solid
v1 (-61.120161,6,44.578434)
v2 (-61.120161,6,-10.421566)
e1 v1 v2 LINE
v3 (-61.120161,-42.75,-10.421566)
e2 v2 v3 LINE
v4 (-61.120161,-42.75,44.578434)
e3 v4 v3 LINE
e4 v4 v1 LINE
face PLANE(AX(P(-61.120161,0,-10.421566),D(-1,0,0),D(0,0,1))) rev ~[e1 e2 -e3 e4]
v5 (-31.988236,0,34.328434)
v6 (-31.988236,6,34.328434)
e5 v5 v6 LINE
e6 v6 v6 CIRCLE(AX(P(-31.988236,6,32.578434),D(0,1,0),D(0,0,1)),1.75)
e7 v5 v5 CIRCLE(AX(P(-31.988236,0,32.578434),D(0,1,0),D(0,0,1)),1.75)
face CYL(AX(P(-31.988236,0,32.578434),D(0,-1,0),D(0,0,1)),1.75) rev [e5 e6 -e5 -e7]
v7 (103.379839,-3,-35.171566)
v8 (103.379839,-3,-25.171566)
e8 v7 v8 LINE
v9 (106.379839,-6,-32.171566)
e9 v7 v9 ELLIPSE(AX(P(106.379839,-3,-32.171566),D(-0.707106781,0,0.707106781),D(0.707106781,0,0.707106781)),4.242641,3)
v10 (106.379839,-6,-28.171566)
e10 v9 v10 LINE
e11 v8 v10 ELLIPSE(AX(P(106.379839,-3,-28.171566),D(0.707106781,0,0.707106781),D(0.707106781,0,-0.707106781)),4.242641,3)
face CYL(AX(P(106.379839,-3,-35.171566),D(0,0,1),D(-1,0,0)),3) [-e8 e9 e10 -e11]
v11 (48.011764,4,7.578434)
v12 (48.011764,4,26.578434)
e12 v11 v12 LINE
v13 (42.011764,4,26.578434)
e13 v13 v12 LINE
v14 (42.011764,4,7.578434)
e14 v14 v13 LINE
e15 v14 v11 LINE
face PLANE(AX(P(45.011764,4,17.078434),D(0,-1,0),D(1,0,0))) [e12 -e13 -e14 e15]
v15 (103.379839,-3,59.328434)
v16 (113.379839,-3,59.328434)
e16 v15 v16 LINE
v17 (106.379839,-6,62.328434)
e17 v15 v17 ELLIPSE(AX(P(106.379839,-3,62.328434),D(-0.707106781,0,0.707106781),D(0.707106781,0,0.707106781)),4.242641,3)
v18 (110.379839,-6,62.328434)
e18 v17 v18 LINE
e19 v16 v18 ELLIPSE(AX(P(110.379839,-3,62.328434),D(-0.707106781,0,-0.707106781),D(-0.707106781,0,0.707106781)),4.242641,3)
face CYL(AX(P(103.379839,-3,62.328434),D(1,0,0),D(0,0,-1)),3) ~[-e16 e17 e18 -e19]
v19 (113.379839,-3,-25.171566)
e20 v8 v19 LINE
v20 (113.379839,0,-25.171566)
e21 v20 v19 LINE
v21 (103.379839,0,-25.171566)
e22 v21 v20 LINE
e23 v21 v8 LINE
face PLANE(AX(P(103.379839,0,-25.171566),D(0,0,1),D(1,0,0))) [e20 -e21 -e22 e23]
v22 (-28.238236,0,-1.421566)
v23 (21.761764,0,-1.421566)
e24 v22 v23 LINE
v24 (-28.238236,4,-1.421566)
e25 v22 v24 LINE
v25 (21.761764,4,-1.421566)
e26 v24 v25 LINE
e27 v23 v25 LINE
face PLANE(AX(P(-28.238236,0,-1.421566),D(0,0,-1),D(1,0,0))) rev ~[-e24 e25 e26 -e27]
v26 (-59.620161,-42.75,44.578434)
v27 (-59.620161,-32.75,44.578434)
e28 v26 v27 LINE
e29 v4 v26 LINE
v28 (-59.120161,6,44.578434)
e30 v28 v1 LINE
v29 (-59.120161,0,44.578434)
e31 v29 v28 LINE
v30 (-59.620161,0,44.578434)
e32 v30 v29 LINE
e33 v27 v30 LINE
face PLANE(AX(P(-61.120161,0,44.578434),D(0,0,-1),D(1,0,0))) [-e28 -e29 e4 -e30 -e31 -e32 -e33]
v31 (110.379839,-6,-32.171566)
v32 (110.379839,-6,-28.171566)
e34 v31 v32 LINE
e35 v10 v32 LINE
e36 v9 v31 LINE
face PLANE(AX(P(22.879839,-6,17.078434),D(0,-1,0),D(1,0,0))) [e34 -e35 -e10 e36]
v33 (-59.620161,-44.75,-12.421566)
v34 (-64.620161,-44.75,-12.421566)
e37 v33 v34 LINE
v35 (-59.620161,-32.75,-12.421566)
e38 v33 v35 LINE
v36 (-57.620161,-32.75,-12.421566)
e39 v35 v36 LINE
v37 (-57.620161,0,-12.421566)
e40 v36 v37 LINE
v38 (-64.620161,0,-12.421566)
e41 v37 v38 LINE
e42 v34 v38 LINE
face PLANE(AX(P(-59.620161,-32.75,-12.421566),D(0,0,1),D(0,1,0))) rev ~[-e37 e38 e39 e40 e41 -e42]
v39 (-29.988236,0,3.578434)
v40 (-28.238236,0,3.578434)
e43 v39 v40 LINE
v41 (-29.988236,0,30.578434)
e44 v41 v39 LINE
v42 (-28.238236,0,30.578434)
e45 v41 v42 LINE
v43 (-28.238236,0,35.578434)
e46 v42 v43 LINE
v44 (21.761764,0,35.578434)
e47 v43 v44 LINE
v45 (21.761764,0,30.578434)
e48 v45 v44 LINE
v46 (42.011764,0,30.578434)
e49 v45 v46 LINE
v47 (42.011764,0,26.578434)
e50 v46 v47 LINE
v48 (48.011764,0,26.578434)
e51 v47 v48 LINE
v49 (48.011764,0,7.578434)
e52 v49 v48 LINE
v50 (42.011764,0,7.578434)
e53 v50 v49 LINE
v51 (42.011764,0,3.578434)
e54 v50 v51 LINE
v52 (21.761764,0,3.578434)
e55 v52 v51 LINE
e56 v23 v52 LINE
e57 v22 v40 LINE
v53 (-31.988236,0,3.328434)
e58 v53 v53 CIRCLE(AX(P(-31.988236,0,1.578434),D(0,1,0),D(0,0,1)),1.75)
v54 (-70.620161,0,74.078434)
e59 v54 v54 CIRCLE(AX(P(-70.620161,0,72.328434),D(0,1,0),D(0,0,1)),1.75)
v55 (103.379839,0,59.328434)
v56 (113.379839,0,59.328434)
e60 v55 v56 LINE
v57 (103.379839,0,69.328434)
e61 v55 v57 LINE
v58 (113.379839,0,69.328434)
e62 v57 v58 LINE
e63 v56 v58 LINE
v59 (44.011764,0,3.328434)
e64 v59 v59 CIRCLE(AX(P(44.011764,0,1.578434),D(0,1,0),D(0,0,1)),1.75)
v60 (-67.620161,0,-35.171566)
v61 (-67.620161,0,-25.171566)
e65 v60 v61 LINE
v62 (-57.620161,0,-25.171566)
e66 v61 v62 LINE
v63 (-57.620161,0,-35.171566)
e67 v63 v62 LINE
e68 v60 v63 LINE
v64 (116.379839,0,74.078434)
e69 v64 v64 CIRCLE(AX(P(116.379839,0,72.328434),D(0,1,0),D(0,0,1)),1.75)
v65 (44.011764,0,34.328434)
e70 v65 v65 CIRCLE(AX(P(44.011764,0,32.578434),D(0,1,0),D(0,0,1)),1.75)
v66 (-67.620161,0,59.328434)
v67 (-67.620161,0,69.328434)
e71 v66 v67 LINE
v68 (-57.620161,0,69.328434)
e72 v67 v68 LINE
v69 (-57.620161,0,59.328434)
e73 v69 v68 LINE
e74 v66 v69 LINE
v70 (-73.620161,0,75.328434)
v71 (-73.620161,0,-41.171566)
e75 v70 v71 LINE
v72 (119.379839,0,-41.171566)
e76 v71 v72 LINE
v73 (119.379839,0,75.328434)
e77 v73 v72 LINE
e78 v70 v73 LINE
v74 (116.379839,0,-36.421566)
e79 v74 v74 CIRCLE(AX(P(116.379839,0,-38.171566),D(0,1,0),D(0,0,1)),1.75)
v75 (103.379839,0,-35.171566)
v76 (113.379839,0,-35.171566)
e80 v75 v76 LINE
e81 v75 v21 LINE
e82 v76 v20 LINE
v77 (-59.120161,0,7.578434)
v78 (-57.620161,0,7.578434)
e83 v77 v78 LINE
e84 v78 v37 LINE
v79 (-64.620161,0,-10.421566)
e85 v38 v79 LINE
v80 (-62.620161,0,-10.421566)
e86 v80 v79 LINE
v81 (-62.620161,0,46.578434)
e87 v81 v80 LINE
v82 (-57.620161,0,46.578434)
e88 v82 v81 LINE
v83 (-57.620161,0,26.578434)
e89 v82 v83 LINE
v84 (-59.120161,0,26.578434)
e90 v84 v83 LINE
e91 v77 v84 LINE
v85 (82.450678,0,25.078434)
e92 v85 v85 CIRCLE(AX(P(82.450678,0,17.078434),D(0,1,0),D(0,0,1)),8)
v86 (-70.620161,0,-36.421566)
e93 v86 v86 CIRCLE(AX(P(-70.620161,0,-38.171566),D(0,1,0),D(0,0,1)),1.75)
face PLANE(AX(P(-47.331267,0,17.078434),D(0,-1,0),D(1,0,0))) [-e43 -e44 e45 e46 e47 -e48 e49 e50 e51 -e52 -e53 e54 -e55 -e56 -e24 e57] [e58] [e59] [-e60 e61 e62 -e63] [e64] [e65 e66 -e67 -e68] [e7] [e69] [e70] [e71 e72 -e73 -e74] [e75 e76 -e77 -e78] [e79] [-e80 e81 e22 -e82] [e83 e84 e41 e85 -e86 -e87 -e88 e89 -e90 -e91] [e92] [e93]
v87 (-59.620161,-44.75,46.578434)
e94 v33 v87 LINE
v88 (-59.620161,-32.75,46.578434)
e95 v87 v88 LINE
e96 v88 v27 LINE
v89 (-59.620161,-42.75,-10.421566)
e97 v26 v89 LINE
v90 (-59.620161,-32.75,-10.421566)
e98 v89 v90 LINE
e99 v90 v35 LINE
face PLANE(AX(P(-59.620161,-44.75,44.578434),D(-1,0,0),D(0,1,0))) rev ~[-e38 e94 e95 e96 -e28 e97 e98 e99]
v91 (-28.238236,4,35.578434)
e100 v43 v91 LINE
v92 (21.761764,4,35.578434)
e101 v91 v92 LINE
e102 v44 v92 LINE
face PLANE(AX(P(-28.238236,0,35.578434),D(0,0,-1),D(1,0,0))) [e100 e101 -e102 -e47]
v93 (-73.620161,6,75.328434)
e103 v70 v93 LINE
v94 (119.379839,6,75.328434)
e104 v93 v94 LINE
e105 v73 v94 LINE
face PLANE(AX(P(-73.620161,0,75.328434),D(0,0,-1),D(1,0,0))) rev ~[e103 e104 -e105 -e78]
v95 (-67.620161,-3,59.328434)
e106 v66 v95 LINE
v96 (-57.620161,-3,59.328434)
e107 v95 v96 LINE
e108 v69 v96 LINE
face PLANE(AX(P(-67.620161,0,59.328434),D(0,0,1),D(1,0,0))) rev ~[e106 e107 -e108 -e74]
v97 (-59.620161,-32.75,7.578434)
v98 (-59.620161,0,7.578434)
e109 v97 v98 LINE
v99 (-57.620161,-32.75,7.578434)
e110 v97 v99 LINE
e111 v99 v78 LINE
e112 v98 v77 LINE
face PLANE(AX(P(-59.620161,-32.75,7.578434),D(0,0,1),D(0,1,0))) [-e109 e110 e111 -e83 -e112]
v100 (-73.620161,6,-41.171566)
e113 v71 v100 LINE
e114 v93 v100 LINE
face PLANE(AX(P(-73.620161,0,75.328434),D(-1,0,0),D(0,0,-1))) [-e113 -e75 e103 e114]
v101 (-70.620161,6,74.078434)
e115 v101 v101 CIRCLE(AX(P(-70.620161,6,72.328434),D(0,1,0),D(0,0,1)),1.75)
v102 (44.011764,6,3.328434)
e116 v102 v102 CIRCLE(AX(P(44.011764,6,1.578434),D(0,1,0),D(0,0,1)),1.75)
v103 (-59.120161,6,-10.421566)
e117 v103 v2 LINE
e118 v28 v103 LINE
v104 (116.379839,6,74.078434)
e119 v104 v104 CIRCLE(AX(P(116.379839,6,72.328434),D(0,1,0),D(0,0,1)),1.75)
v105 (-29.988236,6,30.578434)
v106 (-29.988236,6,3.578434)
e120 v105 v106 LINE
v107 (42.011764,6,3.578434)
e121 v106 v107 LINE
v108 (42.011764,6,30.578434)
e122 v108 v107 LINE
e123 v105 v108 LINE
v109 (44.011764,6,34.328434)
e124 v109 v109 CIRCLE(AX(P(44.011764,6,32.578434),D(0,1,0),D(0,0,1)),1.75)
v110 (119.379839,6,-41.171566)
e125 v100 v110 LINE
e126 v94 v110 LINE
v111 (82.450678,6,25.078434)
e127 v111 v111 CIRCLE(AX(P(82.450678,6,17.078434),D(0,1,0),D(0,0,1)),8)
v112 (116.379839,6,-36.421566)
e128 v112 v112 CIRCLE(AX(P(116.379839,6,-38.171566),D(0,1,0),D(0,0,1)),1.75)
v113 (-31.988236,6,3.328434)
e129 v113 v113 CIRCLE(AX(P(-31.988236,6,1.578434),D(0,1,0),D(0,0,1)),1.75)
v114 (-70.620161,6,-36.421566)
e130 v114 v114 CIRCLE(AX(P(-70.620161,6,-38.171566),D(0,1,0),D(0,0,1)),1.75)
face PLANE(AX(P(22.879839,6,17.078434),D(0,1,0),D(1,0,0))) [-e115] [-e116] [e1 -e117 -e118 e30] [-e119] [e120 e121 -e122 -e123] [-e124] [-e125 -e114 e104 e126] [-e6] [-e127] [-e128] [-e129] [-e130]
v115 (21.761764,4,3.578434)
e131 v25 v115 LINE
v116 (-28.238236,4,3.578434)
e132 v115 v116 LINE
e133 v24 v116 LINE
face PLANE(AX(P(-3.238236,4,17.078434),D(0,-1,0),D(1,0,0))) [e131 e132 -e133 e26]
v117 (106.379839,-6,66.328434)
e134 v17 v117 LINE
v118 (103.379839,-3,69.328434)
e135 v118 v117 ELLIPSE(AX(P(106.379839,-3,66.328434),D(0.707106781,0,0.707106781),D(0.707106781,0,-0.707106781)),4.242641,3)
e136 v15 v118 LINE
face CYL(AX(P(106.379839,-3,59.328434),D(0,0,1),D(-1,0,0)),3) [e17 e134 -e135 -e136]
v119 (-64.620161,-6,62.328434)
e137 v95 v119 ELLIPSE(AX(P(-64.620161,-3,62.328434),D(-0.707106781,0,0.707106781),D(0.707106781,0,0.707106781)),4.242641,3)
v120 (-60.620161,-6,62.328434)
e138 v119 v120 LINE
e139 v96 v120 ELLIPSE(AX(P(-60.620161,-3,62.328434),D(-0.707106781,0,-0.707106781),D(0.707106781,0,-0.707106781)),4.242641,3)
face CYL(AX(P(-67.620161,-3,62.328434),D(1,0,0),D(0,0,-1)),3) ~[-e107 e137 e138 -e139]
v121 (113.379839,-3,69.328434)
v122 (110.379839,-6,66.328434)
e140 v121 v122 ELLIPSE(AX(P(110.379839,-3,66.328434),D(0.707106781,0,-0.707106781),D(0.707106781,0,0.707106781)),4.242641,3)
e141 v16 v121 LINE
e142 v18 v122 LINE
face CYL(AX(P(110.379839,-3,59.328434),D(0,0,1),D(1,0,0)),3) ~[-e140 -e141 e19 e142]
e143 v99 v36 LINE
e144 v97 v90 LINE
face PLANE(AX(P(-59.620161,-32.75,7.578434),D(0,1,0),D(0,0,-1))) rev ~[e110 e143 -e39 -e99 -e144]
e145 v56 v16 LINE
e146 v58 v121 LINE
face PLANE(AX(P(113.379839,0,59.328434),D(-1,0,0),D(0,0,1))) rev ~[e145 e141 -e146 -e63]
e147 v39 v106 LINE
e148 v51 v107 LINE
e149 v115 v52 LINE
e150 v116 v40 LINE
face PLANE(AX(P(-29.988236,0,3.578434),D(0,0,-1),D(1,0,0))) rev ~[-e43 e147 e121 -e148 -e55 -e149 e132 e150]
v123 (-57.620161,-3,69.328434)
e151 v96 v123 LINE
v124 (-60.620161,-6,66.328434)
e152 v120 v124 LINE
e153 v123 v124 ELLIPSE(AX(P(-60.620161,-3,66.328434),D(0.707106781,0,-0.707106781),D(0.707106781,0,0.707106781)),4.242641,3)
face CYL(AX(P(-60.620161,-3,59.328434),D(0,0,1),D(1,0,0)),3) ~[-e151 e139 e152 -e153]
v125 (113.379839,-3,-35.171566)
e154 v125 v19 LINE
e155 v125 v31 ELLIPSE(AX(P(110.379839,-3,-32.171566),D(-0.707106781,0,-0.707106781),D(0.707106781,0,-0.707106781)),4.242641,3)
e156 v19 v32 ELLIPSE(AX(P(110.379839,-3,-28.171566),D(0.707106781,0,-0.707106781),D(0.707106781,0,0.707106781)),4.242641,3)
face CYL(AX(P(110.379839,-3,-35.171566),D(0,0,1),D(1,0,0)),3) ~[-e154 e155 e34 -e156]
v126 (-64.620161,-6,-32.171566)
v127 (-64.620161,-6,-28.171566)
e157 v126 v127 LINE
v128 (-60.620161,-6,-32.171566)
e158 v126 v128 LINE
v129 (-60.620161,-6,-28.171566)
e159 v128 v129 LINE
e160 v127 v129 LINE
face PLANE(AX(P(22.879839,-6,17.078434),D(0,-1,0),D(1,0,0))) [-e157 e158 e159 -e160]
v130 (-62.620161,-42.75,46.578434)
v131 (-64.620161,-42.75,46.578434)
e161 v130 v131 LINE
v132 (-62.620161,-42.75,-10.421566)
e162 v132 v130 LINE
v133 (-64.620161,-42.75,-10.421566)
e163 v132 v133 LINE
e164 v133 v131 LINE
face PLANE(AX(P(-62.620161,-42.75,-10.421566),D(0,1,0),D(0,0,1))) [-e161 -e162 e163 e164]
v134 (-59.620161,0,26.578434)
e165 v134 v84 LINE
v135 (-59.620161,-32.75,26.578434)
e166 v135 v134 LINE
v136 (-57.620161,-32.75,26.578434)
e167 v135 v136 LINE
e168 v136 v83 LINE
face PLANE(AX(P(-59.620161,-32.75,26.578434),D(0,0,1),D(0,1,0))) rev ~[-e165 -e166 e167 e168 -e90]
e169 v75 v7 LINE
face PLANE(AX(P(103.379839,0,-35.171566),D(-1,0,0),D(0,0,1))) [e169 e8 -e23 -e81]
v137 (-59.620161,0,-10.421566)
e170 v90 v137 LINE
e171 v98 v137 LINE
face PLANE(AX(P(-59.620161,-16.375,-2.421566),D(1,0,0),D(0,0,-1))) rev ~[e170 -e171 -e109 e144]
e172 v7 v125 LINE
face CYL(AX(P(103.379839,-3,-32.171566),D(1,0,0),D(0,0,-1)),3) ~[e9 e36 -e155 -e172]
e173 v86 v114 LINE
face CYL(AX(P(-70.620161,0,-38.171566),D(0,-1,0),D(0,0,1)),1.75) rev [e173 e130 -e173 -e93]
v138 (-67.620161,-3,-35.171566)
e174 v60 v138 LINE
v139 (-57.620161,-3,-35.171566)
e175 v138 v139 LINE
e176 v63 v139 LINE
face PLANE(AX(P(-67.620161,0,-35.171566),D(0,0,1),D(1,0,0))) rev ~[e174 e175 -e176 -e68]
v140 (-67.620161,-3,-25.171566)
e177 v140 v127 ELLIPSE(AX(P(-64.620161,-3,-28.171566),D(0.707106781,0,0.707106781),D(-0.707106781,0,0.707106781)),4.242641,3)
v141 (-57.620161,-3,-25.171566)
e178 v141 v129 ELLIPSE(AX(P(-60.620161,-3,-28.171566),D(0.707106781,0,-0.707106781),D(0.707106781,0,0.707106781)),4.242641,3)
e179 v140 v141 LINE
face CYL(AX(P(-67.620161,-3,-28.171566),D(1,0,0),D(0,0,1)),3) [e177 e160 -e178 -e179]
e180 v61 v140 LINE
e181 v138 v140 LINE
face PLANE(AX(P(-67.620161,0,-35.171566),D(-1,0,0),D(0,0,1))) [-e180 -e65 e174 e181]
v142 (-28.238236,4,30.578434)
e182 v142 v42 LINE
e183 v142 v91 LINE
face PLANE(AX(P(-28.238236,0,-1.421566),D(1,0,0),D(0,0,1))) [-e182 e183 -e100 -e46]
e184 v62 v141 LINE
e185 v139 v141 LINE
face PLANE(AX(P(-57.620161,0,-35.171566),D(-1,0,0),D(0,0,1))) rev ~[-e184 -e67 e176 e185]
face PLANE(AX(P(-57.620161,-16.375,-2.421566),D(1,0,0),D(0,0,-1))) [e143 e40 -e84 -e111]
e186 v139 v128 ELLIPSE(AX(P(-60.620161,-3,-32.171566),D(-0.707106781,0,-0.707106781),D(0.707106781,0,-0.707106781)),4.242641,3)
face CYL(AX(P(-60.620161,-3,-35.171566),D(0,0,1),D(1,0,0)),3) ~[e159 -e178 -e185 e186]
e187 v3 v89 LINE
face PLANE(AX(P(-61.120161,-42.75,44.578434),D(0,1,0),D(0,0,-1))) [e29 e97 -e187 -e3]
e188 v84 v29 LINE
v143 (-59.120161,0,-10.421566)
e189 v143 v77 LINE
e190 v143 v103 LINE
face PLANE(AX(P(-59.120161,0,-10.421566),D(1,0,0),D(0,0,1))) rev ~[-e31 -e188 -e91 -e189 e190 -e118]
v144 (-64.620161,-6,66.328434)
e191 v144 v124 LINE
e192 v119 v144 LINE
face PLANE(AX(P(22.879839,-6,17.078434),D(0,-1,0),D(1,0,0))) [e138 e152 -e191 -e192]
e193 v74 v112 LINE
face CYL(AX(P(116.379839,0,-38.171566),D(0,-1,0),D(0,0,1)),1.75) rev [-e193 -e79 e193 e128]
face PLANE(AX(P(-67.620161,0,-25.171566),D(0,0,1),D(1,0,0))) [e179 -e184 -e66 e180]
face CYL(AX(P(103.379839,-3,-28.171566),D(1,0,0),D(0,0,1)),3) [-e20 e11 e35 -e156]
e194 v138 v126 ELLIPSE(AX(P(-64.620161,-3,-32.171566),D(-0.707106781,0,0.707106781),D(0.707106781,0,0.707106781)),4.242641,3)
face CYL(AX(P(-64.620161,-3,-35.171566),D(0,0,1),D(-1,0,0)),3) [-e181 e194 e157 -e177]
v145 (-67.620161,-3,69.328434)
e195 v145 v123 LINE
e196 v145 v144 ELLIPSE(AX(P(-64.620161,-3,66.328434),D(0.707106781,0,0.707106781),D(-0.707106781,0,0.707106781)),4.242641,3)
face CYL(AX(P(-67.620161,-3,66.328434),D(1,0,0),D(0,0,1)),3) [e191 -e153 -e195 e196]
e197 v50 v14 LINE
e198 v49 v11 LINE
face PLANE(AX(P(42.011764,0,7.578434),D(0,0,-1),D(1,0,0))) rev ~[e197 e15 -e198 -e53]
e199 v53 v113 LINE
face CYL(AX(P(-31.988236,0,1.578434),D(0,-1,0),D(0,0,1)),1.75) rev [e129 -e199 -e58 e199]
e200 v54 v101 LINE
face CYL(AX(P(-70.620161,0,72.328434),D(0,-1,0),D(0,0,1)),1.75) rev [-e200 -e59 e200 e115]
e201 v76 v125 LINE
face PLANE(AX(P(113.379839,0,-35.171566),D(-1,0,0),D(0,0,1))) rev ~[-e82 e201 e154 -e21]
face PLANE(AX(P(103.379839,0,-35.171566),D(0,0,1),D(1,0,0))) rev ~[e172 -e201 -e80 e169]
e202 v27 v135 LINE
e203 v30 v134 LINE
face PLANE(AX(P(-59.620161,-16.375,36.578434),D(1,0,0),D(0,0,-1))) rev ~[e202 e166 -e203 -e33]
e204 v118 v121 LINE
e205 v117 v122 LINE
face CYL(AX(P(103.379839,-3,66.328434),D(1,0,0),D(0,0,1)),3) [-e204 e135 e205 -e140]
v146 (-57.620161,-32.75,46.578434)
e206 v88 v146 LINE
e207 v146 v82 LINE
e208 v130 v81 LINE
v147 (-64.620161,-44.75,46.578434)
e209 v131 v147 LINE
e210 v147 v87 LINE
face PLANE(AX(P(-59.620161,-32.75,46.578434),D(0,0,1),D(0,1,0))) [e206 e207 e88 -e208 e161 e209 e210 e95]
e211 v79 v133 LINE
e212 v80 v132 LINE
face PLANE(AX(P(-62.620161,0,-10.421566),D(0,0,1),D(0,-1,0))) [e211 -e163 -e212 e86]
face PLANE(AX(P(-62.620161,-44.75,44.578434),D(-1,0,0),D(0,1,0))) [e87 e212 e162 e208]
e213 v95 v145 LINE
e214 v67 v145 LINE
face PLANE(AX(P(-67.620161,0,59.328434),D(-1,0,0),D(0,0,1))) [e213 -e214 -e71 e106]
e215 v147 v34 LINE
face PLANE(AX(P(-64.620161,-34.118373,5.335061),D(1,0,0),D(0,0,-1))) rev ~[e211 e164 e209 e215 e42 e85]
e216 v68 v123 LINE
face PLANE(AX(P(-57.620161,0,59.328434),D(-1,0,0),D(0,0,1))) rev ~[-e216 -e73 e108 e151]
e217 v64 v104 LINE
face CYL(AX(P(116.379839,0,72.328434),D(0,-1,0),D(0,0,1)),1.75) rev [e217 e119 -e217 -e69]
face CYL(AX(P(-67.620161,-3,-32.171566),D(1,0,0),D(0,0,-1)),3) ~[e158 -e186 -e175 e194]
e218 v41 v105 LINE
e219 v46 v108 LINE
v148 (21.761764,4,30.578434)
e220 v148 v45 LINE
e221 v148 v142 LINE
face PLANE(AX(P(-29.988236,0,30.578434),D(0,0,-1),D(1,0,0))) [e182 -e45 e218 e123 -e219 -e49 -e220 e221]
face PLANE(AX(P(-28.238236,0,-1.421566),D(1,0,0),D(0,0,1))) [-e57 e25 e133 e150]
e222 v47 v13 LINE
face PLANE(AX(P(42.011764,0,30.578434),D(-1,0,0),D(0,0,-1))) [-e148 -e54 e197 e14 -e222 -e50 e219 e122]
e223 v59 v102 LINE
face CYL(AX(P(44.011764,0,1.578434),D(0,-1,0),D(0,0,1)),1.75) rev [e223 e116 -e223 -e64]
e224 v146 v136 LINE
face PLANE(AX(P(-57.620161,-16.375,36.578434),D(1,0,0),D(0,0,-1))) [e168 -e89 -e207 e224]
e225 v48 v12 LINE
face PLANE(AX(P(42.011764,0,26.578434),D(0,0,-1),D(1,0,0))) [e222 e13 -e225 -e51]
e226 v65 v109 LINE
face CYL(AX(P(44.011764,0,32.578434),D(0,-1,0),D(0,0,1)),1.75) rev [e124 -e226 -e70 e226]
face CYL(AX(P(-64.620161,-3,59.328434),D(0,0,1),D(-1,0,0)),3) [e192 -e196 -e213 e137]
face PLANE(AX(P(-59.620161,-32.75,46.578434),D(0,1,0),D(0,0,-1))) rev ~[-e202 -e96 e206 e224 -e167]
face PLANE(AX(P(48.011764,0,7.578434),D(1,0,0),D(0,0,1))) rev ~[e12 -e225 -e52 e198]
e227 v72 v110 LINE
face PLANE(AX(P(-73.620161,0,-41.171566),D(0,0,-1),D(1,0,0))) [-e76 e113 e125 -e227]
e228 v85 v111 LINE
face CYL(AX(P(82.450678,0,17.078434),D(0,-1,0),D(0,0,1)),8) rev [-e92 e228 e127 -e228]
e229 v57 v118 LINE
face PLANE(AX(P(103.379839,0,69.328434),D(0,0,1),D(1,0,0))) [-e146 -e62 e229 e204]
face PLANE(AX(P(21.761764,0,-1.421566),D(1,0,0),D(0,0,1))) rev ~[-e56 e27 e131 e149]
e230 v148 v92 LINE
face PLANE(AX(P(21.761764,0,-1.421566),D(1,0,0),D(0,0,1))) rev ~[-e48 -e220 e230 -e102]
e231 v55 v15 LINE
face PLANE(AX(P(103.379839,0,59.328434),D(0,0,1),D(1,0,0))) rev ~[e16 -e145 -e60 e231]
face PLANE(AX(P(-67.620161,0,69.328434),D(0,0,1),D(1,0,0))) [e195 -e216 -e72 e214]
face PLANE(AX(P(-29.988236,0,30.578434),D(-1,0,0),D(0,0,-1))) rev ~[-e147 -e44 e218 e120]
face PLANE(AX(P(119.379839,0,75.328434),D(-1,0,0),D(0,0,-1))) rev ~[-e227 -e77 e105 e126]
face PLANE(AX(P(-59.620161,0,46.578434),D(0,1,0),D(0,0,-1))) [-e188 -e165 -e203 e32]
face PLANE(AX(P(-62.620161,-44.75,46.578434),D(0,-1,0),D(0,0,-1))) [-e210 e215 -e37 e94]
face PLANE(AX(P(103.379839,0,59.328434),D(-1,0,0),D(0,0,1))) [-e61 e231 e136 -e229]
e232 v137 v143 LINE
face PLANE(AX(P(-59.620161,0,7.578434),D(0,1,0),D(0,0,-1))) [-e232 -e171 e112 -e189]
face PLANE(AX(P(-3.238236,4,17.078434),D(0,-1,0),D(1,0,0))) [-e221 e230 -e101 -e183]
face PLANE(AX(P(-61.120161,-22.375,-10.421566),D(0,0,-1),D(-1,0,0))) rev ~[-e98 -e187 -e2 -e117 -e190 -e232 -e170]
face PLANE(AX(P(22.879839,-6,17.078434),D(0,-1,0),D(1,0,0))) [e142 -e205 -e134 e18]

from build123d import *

# Parameters (mm, degrees)
SKETCH1_W            = 193
SKETCH1_H            = 116.5
SKETCH1_R            = 1.75
SKETCH1_R_2          = 8
SKETCH1_W_2          = 72
SKETCH1_H_2          = 27
SKETCH1_W_3          = 2
SKETCH1_H_3          = 55
BOSS_EXTRUDE1_DEPTH  = 6
SKETCH3_W            = 10
SKETCH3_H            = 10
BOSS_EXTRUDE3_DEPTH  = 10
SKETCH5_W            = 2
SKETCH5_H            = 55
BOSS_EXTRUDE4_DEPTH  = 6
SKETCH6_W            = 181
SKETCH6_H            = 104.5
CUT_EXTRUDE1_DEPTH   = 4
SKETCH7_W            = 1.5
SKETCH7_H            = 55
BOSS_EXTRUDE5_DEPTH  = 44.75
SKETCH8_W            = 2
SKETCH8_H            = 55
CUT_EXTRUDE2_DEPTH   = 42.25
SKETCH10_W           = 6
SKETCH10_H           = 19
CUT_EXTRUDE3_DEPTH   = 4
FILLET3_R            = 3
SKETCH12_W           = 55
SKETCH12_H           = 2
BOSS_EXTRUDE6_DEPTH  = 1.5
SKETCH14_W           = 3
SKETCH14_H           = 44.75
BOSS_EXTRUDE7_DEPTH  = 2
SKETCH15_W           = 3
SKETCH15_H           = 44.75
BOSS_EXTRUDE8_DEPTH  = 2
BOSS_EXTRUDE9_DEPTH  = 2
SKETCH18_W           = 20
SKETCH18_H           = 32.75
BOSS_EXTRUDE10_DEPTH = 2
SKETCH19_W           = 50
SKETCH19_H           = 37
CUT_EXTRUDE7_DEPTH   = 4


with BuildPart() as part:
    # Sketch1 → Boss-Extrude1 (new body)
    with BuildSketch(Plane(origin=(0, 0, 0), x_dir=(1, 0, 0), z_dir=(0, 1, 0))):
        with Locations((22.87983871, -17.078434096)):
            Rectangle(SKETCH1_W, SKETCH1_H)
        with Locations(Location((-31.988235573, -1.578434096, 0), (0, 0, 270))):
            Circle(SKETCH1_R, mode=Mode.SUBTRACT)
        with Locations(Location((-31.988235573, -32.578434096, 0), (0, 0, 270))):
            Circle(SKETCH1_R, mode=Mode.SUBTRACT)
        with Locations(Location((44.011764427, -1.578434096, 0), (0, 0, 270))):
            Circle(SKETCH1_R, mode=Mode.SUBTRACT)
        with Locations(Location((44.011764427, -32.578434096, 0), (0, 0, 270))):
            Circle(SKETCH1_R, mode=Mode.SUBTRACT)
        with Locations(Location((-70.62016129, -72.328434096, 0), (0, 0, 270))):
            Circle(SKETCH1_R, mode=Mode.SUBTRACT)
        with Locations(Location((-70.62016129, 38.171565904, 0), (0, 0, 270))):
            Circle(SKETCH1_R, mode=Mode.SUBTRACT)
        with Locations(Location((116.37983871, -72.328434096, 0), (0, 0, 270))):
            Circle(SKETCH1_R, mode=Mode.SUBTRACT)
        with Locations(Location((116.37983871, 38.171565904, 0), (0, 0, 270))):
            Circle(SKETCH1_R, mode=Mode.SUBTRACT)
        with Locations(Location((82.450678359, -17.078434096, 0), (0, 0, 270))):
            Circle(SKETCH1_R_2, mode=Mode.SUBTRACT)
        with Locations((6.011764427, -17.078434096)):
            Rectangle(SKETCH1_W_2, SKETCH1_H_2, mode=Mode.SUBTRACT)
        with Locations((-47.331266899, -17.078434096)):
            Rectangle(SKETCH1_W_3, SKETCH1_H_3, mode=Mode.SUBTRACT)
    extrude(amount=BOSS_EXTRUDE1_DEPTH)

    # Sketch3 → Boss-Extrude3 (add)
    with BuildSketch(Plane.XZ):
        with Locations((-62.62016129, 64.328434096)):
            Rectangle(SKETCH3_W, SKETCH3_H)
        with Locations((-62.62016129, -30.171565904)):
            Rectangle(SKETCH3_W, SKETCH3_H)
        with Locations((108.37983871, -30.171565904)):
            Rectangle(SKETCH3_W, SKETCH3_H)
        with Locations((108.37983871, 64.328434096)):
            Rectangle(SKETCH3_W, SKETCH3_H)
    extrude(amount=BOSS_EXTRUDE3_DEPTH)

    # Sketch5 → Boss-Extrude4 (add)
    with BuildSketch(Plane.XZ):
        with Locations((-47.331266899, 17.078434096)):
            Rectangle(SKETCH5_W, SKETCH5_H)
    extrude(amount=-BOSS_EXTRUDE4_DEPTH)

    # Sketch6 → Cut-Extrude1 (cut)
    with BuildSketch(Plane.XZ.offset(10)):
        with Locations((22.87983871, 17.078434096)):
            Rectangle(SKETCH6_W, SKETCH6_H)
    extrude(amount=-CUT_EXTRUDE1_DEPTH, mode=Mode.SUBTRACT)

    # Sketch7 → Boss-Extrude5 (add)
    with BuildSketch(Plane.XZ):
        with Locations((-61.87016129, 17.078434096)):
            Rectangle(SKETCH7_W, SKETCH7_H)
    extrude(amount=BOSS_EXTRUDE5_DEPTH)

    # Sketch8 → Cut-Extrude2 (cut)
    with BuildSketch(Plane.XZ):
        with Locations((-60.12016129, 17.078434096)):
            Rectangle(SKETCH8_W, SKETCH8_H)
    extrude(amount=-CUT_EXTRUDE2_DEPTH, mode=Mode.SUBTRACT)

    # Sketch10 → Cut-Extrude3 (cut)
    with BuildSketch(Plane.XZ):
        with Locations((45.011764427, 17.078434096)):
            Rectangle(SKETCH10_W, SKETCH10_H)
    extrude(amount=-CUT_EXTRUDE3_DEPTH, mode=Mode.SUBTRACT)

    # Fillet3
    fillet3_edges = [part.edges().sort_by_distance(p)[0] for p in [
        (-67.62016129, -6, 64.328434096),
        (-67.62016129, -6, -30.171565904),
        (-62.62016129, -6, -35.171565904),
        (108.37983871, -6, -35.171565904),
        (-62.62016129, -6, 69.328434096),
        (108.37983871, -6, 69.328434096),
        (113.37983871, -6, -30.171565904),
        (113.37983871, -6, 64.328434096),
        (-62.62016129, -6, 59.328434096),
        (-57.62016129, -6, 64.328434096),
        (103.37983871, -6, 64.328434096),
        (108.37983871, -6, 59.328434096),
        (108.37983871, -6, -25.171565904),
        (103.37983871, -6, -30.171565904),
        (-57.62016129, -6, -30.171565904),
        (-62.62016129, -6, -25.171565904),
    ]]
    fillet(fillet3_edges, radius=FILLET3_R)

    # Sketch12 → Boss-Extrude6 (add)
    with BuildSketch(Plane(origin=(-61.12016129, 0, 0), x_dir=(0, 0, -1), z_dir=(1, 0, 0))):
        with Locations((-17.078434096, -43.75)):
            Rectangle(SKETCH12_W, SKETCH12_H)
    extrude(amount=BOSS_EXTRUDE6_DEPTH)

    # Sketch14 → Boss-Extrude7 (add)
    with BuildSketch(Plane(origin=(0, 0, -10.421565904), x_dir=(-1, 0, 0), z_dir=(0, 0, -1))):
        with Locations((61.12016129, -22.375)):
            Rectangle(SKETCH14_W, SKETCH14_H)
    extrude(amount=BOSS_EXTRUDE7_DEPTH)

    # Sketch15 → Boss-Extrude8 (add)
    with BuildSketch(Plane.XY.offset(44.578434096)):
        with Locations((-61.12016129, -22.375)):
            Rectangle(SKETCH15_W, SKETCH15_H)
    extrude(amount=BOSS_EXTRUDE8_DEPTH)

    # Sketch16 → Boss-Extrude9 (add)
    with BuildSketch(Plane.ZY.offset(62.62016129)):
        Polygon((-10.421565904, 0), (-10.421565904, -42.75), (46.578434096, -42.75), (46.578434096, -44.75), (-12.421565904, -44.75), (-12.421565904, 0), align=None)
    extrude(amount=BOSS_EXTRUDE9_DEPTH)

    # Sketch18 → Boss-Extrude10 (add)
    with BuildSketch(Plane(origin=(-59.62016129, 0, 0), x_dir=(0, 0, -1), z_dir=(1, 0, 0))):
        with Locations((-36.578434096, -16.375)):
            Rectangle(SKETCH18_W, SKETCH18_H)
        with Locations((2.421565904, -16.375)):
            Rectangle(SKETCH18_W, SKETCH18_H)
    extrude(amount=BOSS_EXTRUDE10_DEPTH)

    # Sketch19 → Cut-Extrude7 (cut)
    with BuildSketch(Plane.XZ):
        with Locations((-3.238235573, 17.078434096)):
            Rectangle(SKETCH19_W, SKETCH19_H)
    extrude(amount=-CUT_EXTRUDE7_DEPTH, mode=Mode.SUBTRACT)


solid = part.part
